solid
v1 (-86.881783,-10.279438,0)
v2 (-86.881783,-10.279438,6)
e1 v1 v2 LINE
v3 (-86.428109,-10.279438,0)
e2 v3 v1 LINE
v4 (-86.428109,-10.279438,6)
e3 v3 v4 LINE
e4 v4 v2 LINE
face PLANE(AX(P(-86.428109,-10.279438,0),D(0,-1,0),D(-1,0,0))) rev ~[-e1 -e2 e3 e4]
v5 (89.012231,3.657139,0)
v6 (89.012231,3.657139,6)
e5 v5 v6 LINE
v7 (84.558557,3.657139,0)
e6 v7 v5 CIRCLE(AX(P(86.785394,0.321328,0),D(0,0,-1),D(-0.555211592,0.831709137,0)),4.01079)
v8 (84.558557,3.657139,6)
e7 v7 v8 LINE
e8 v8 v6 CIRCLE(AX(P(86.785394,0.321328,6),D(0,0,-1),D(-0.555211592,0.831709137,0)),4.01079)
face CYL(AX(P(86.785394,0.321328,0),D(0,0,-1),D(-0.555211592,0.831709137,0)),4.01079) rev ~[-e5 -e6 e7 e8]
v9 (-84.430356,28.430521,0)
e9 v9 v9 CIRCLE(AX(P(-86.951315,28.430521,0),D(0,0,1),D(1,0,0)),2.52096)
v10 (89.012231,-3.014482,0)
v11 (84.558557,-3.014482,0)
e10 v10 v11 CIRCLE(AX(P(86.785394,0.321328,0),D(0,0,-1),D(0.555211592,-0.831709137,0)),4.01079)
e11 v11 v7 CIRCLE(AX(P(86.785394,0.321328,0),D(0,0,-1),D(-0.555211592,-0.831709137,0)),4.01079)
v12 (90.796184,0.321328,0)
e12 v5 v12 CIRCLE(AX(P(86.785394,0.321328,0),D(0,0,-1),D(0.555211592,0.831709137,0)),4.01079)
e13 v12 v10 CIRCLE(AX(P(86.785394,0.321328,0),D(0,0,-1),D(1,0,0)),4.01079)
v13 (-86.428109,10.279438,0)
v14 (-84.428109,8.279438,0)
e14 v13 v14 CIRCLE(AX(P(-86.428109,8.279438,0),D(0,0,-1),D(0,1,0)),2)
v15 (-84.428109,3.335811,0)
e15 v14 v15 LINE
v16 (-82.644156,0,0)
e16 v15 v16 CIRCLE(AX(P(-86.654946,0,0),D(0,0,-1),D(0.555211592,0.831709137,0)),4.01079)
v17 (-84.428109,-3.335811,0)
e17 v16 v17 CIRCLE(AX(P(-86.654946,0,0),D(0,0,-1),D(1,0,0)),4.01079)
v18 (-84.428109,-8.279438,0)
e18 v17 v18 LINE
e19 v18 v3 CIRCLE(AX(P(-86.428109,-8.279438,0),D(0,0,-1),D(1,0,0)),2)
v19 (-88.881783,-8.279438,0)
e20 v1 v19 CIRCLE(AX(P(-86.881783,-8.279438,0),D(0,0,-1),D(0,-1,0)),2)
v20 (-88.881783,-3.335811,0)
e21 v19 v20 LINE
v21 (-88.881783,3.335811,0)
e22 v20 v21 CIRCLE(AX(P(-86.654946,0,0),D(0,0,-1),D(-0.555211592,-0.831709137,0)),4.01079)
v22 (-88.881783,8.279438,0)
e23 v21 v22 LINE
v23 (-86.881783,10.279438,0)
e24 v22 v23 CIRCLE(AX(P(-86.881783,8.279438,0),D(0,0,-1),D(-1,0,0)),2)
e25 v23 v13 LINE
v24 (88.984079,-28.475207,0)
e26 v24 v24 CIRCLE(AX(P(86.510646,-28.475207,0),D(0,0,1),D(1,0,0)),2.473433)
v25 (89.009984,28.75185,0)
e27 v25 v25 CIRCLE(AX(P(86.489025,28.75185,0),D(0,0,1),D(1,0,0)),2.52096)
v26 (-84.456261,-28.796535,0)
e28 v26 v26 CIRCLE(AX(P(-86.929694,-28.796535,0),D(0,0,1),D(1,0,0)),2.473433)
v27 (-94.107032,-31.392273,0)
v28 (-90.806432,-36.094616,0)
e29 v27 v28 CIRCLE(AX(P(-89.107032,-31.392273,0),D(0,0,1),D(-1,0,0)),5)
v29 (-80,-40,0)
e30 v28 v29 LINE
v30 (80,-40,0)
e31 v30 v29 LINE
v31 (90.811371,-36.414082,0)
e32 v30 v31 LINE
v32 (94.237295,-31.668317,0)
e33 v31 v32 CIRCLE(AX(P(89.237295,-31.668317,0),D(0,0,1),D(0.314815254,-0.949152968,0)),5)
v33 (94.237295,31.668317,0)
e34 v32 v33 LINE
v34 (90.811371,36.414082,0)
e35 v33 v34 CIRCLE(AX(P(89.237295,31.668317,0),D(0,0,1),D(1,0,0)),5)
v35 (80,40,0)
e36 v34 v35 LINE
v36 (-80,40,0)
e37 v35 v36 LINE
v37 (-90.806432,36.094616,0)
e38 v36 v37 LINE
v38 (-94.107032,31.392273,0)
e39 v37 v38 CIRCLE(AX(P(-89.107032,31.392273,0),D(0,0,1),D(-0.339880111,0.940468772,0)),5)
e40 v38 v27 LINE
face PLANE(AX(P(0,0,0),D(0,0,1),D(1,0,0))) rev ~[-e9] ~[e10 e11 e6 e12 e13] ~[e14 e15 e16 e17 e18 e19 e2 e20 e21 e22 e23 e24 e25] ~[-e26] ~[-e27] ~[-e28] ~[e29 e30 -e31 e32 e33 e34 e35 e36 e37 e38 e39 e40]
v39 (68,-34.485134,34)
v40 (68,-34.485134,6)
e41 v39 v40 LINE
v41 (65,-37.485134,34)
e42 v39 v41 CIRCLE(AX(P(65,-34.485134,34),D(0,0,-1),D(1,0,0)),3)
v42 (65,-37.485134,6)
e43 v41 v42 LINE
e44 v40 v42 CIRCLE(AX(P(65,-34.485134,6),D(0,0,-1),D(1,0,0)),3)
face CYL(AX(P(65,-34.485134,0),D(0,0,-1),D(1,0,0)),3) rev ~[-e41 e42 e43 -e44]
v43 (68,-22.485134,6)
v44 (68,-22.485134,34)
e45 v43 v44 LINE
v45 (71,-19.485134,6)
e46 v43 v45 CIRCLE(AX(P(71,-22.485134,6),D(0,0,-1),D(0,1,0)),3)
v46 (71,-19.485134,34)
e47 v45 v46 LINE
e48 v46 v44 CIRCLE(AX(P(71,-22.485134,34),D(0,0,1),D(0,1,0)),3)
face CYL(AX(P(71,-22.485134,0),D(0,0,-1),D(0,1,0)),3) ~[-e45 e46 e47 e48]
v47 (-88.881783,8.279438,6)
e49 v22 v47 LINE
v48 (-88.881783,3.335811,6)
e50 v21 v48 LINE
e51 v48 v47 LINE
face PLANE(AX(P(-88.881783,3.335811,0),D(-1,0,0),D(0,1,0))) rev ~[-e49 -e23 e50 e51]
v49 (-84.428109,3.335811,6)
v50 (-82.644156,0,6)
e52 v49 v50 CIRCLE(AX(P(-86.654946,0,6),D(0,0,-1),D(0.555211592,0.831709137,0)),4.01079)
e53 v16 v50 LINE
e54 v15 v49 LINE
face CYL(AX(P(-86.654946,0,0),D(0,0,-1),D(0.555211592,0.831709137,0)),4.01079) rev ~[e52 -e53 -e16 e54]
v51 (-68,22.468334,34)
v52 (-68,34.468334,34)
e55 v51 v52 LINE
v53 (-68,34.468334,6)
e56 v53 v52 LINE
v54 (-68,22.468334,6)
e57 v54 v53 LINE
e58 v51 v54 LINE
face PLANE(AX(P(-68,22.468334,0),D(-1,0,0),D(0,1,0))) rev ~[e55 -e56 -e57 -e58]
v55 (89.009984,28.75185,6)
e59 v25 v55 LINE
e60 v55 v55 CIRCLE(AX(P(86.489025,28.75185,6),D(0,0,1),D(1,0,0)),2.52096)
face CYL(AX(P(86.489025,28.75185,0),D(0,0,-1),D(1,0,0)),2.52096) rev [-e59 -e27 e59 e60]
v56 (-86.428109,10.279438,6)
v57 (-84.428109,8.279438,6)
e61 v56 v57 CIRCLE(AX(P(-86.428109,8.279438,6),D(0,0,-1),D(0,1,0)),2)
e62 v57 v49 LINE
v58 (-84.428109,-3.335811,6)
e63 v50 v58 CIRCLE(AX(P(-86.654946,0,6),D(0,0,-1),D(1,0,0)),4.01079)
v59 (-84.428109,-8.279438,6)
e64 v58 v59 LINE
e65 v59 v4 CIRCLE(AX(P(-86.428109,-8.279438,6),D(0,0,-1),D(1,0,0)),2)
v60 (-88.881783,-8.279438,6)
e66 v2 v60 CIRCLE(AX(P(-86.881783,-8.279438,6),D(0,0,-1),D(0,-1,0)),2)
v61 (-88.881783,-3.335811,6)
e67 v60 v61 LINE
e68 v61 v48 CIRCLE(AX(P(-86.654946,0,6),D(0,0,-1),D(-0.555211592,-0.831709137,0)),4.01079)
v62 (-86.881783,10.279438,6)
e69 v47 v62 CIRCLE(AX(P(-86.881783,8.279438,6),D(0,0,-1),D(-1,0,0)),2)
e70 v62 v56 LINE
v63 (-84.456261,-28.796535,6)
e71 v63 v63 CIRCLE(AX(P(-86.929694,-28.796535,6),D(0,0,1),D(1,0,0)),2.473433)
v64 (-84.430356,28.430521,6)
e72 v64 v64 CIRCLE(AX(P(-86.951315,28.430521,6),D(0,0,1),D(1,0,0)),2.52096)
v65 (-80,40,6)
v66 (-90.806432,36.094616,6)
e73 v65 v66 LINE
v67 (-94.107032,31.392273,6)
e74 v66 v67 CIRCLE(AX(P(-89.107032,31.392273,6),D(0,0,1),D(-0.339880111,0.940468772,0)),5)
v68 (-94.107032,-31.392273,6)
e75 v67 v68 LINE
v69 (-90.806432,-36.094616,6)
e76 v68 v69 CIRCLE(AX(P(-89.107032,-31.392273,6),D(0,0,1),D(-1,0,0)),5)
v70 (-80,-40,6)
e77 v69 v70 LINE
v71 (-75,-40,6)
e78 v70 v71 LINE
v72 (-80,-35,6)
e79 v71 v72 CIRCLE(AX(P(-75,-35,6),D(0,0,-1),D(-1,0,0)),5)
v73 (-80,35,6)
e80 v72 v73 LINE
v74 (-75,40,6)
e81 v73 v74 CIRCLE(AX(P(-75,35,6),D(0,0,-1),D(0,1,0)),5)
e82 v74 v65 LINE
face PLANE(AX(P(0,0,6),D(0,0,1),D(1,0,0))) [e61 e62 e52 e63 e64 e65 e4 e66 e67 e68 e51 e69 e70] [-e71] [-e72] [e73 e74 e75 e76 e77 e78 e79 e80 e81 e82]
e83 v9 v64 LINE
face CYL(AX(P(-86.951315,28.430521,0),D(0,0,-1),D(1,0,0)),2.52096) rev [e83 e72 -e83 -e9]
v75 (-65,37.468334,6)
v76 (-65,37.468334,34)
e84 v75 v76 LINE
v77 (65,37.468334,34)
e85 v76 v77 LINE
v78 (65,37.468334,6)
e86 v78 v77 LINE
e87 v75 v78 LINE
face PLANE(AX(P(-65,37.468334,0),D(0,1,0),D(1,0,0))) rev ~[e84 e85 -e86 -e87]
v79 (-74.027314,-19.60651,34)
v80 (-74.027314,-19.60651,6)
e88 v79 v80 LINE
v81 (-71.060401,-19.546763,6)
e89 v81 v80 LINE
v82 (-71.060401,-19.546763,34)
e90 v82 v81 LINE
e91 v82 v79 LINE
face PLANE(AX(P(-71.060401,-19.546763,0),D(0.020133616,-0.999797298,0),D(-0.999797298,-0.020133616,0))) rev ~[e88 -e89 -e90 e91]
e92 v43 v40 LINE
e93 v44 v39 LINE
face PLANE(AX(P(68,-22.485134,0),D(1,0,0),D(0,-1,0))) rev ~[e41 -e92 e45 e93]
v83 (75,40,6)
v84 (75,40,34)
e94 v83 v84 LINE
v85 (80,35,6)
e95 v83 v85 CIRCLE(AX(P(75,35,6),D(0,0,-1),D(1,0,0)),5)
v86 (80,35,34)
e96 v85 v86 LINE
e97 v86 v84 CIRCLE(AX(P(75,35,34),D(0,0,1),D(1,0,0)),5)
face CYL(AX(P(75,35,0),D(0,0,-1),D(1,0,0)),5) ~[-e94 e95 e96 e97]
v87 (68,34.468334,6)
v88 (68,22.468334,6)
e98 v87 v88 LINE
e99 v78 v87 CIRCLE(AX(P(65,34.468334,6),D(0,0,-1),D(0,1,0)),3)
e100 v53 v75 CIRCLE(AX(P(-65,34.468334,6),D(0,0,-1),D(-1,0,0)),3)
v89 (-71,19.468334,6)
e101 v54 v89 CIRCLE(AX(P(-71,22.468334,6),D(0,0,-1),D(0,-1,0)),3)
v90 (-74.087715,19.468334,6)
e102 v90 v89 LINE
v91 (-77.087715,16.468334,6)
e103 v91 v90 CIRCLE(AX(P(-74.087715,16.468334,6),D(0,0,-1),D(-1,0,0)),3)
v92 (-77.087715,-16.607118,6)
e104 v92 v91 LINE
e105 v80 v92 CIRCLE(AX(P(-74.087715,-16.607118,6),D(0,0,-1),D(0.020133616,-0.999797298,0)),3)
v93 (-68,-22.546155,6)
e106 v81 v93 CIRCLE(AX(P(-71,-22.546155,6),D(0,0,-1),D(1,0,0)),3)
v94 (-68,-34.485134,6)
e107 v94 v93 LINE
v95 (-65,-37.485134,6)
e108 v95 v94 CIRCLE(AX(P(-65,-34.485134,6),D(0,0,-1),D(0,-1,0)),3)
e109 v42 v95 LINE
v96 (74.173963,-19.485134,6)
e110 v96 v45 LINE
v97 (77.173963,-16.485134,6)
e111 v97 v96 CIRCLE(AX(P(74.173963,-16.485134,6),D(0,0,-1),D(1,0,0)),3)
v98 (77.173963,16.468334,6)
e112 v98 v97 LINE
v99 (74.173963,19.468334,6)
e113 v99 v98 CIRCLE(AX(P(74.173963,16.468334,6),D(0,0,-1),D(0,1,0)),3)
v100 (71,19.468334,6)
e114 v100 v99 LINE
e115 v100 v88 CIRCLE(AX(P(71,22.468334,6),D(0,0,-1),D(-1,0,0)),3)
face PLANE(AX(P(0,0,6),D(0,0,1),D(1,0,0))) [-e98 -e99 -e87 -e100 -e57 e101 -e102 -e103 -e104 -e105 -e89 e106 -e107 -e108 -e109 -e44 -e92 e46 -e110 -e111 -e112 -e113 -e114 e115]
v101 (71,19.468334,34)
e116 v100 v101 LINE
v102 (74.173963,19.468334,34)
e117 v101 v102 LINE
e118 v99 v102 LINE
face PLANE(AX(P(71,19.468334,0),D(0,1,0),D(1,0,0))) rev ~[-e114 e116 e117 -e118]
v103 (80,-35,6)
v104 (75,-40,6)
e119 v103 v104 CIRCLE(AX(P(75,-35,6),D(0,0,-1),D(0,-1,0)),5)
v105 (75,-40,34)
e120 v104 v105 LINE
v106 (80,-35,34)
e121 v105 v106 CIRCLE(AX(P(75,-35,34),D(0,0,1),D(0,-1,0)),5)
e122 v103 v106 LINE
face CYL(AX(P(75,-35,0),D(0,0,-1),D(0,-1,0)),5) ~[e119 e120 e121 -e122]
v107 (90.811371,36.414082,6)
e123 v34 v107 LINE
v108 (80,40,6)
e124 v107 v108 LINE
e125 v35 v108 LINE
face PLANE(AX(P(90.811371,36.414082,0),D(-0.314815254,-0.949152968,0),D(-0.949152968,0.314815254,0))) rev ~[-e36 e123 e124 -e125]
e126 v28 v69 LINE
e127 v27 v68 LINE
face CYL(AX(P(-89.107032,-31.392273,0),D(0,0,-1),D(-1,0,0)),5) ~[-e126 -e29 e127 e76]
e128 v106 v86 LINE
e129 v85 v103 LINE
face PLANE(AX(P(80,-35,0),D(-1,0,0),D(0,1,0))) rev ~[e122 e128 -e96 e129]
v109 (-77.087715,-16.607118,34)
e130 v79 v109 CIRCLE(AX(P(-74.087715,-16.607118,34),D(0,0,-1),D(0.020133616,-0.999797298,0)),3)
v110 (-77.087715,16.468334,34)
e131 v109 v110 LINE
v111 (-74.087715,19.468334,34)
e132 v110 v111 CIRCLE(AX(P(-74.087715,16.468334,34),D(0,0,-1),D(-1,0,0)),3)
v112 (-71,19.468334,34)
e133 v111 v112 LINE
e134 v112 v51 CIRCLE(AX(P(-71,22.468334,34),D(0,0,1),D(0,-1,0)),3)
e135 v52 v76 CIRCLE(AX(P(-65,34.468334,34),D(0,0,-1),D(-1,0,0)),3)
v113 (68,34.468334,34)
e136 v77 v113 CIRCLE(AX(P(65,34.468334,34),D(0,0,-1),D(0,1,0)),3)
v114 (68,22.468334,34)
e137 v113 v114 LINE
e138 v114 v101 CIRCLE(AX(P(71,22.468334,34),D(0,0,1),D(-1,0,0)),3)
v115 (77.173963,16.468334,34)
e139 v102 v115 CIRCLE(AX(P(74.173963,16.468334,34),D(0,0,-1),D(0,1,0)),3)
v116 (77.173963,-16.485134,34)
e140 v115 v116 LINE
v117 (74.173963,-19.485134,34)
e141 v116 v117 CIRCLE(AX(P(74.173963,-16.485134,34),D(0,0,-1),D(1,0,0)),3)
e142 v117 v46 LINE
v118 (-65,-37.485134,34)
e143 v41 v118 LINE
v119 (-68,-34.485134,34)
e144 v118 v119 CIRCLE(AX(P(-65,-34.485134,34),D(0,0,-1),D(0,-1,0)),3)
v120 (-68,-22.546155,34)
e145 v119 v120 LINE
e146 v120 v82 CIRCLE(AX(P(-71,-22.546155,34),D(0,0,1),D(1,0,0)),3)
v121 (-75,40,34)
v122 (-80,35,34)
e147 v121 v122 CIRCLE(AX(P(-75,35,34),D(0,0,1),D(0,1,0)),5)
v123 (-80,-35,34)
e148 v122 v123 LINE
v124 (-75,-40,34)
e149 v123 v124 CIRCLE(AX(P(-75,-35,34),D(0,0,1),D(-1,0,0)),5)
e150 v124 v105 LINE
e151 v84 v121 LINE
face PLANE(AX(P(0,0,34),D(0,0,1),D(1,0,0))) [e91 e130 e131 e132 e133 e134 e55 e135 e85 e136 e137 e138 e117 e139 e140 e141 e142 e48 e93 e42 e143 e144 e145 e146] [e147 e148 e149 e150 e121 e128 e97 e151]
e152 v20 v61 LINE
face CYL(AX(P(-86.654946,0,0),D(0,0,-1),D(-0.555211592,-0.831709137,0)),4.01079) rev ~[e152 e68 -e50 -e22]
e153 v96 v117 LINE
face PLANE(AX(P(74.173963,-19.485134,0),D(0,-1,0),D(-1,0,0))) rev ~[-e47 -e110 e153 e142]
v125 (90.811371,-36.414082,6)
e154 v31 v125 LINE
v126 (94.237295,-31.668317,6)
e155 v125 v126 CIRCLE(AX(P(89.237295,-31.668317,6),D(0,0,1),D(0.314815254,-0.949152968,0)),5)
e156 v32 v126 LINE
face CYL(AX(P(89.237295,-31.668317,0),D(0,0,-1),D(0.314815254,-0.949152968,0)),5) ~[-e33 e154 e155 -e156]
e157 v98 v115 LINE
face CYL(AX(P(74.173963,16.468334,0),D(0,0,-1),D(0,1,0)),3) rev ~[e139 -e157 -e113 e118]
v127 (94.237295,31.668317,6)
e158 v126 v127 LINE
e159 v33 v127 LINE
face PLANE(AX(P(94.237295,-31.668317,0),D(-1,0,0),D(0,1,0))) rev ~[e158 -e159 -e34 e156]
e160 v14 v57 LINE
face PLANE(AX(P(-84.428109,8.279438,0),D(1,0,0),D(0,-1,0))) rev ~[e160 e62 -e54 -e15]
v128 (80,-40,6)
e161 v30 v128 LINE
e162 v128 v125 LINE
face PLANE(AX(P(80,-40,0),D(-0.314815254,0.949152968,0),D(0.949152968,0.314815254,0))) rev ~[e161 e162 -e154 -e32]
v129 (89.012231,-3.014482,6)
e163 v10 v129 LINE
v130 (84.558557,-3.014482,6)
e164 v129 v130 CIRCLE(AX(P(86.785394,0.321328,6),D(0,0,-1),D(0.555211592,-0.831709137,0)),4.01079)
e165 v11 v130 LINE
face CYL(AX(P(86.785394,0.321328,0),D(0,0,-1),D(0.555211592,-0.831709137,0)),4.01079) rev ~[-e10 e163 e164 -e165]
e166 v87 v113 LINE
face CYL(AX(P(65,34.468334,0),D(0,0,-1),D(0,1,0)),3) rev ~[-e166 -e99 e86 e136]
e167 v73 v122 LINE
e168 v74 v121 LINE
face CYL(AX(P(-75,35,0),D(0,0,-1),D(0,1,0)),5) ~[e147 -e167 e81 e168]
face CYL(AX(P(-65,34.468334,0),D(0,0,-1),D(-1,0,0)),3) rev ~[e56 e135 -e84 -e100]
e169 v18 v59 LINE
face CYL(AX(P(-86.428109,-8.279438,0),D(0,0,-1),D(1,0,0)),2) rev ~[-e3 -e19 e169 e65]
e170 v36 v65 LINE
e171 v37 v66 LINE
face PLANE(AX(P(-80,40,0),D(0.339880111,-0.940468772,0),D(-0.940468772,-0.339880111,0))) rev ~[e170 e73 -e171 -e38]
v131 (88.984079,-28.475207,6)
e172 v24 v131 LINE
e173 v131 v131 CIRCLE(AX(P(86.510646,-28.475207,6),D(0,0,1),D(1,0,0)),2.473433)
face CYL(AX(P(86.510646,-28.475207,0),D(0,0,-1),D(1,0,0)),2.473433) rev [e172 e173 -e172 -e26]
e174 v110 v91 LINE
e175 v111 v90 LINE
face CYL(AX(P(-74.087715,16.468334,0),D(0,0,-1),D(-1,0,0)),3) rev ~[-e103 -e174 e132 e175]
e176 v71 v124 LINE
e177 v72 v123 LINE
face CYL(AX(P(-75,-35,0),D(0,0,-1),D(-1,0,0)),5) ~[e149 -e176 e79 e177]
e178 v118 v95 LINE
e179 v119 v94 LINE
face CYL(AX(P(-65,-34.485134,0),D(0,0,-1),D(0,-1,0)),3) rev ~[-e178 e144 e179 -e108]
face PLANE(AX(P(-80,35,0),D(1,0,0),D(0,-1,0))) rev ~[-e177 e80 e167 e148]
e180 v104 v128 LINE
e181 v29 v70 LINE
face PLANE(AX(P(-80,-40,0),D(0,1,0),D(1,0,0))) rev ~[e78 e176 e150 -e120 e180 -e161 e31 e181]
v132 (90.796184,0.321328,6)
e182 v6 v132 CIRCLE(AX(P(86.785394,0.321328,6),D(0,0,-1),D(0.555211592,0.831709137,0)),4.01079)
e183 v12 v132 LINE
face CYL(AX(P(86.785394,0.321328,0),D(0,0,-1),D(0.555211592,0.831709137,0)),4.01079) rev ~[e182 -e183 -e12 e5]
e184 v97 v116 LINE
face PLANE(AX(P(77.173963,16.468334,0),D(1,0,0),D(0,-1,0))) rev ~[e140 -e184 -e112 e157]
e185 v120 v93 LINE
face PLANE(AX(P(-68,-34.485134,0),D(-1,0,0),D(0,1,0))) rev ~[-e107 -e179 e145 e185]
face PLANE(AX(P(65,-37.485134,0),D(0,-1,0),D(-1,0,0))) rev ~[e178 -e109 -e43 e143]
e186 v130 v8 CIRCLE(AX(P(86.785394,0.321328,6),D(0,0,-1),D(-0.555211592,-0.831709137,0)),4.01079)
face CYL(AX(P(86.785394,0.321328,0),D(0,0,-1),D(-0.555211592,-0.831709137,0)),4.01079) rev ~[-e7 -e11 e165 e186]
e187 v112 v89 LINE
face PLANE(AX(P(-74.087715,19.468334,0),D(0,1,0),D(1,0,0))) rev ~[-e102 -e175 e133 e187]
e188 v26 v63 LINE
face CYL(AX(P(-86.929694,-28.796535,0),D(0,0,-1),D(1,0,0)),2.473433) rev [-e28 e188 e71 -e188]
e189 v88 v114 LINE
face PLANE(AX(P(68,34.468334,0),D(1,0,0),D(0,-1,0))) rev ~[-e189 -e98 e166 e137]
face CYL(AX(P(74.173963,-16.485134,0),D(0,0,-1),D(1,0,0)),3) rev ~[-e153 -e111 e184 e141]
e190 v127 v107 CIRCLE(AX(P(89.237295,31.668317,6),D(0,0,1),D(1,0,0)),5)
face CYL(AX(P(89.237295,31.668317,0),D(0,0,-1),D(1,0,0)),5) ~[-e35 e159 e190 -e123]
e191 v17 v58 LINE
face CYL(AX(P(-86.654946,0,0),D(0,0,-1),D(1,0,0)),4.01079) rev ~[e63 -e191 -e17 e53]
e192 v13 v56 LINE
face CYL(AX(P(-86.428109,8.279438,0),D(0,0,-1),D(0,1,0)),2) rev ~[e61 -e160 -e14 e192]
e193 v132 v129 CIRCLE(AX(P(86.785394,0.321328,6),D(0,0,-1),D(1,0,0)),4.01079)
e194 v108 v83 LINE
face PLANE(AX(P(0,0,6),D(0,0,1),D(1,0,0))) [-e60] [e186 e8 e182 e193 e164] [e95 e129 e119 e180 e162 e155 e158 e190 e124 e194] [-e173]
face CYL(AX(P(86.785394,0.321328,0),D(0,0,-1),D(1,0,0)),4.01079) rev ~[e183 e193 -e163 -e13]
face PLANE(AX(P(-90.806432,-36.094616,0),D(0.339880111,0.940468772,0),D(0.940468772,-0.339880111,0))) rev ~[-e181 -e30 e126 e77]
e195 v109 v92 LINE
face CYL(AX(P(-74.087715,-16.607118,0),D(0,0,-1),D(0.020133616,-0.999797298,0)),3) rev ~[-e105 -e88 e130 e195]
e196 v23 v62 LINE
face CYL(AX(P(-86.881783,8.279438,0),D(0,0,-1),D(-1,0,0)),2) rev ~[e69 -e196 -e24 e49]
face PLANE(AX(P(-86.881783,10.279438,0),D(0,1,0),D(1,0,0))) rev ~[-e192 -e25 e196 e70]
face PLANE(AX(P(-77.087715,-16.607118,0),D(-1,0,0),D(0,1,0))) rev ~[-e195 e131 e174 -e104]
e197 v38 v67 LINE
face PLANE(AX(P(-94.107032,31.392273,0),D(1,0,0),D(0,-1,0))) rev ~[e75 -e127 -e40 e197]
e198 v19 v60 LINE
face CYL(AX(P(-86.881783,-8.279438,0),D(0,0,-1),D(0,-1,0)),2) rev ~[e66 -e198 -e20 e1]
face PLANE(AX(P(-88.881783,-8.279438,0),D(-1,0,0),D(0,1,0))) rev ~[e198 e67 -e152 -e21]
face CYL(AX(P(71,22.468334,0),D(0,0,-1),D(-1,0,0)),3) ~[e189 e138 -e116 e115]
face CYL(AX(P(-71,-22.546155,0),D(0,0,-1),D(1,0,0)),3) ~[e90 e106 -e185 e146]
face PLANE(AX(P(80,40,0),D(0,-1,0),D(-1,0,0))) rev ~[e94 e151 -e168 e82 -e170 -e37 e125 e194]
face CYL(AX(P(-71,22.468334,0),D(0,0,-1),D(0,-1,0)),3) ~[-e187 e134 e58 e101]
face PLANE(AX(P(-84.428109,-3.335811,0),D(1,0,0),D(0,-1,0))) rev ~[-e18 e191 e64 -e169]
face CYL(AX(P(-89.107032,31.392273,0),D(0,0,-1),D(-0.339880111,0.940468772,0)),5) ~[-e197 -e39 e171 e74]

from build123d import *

# Parameters (mm, degrees)
F0_R     = 2.4734326525
F0_R_2   = 2.5209595833
F1_DEPTH = 6
F2_DEPTH = 34
F3_DEPTH = 6


with BuildPart() as f1:
    # F0 (on Top) → F1 (new body)
    with BuildSketch(Plane.XY):
        with BuildLine():
            ThreePointArc((80, 35), (78.5355339059, 38.5355339059), (75, 40))
            Line((75, 40), (-75, 40))
            ThreePointArc((-75, 40), (-78.5355339059, 38.5355339059), (-80, 35))
            Line((-80, 35), (-80, -35))
            ThreePointArc((-80, -35), (-78.5355339059, -38.5355339059), (-75, -40))
            Line((-75, -40), (75, -40))
            ThreePointArc((75, -40), (78.5355339059, -38.5355339059), (80, -35))
            Line((80, -35), (80, 35))
        make_face()
        with BuildLine():
            ThreePointArc((-68, 34.4683335721), (-67.1213203436, 36.5896539157), (-65, 37.4683335721))
            Line((-65, 37.4683335721), (0, 37.4683335721))
            Line((0, 37.4683335721), (65, 37.4683335721))
            ThreePointArc((65, 37.4683335721), (67.1213203436, 36.5896539157), (68, 34.4683335721))
            Line((68, 34.4683335721), (68, 22.4683335721))
            ThreePointArc((68, 22.4683335721), (68.8786796564, 20.3470132286), (71, 19.4683335721))
            Line((71, 19.4683335721), (74.1739631891, 19.4683335721))
            ThreePointArc((74.1739631891, 19.4683335721), (76.2952835327, 18.5896539157), (77.1739631891, 16.4683335721))
            Line((77.1739631891, 16.4683335721), (77.1739631891, -16.4851338565))
            ThreePointArc((77.1739631891, -16.4851338565), (76.2952835327, -18.6064542001), (74.1739631891, -19.4851338565))
            Line((74.1739631891, -19.4851338565), (71, -19.4851338565))
            ThreePointArc((71, -19.4851338565), (68.8786796564, -20.363813513), (68, -22.4851338565))
            Line((68, -22.4851338565), (68, -34.4851338565))
            ThreePointArc((68, -34.4851338565), (67.1213203436, -36.6064542001), (65, -37.4851338565))
            Line((65, -37.4851338565), (0, -37.4851338565))
            Line((0, -37.4851338565), (-65, -37.4851338565))
            ThreePointArc((-65, -37.4851338565), (-67.1213203436, -36.6064542001), (-68, -34.4851338565))
            Line((-68, -34.4851338565), (-68, -22.5461551776))
            ThreePointArc((-68, -22.5461551776), (-68.9001431644, -20.4035863292), (-71.0604008466, -19.5467632829))
            Line((-71.0604008466, -19.5467632829), (-74.0273144216, -19.6065100909))
            ThreePointArc((-74.0273144216, -19.6065100909), (-76.1875721038, -18.7496870446), (-77.0877152681, -16.6071181963))
            Line((-77.0877152681, -16.6071181963), (-77.0877152681, 16.4683335721))
            ThreePointArc((-77.0877152681, 16.4683335721), (-76.2090356117, 18.5896539157), (-74.0877152681, 19.4683335721))
            Line((-74.0877152681, 19.4683335721), (-71, 19.4683335721))
            ThreePointArc((-71, 19.4683335721), (-68.8786796564, 20.3470132286), (-68, 22.4683335721))
            Line((-68, 22.4683335721), (-68, 34.4683335721))
        make_face(mode=Mode.SUBTRACT)
        with BuildLine():
            Line((80, 40), (75, 40))
            ThreePointArc((75, 40), (78.5355339059, 38.5355339059), (80, 35))
            Line((80, 35), (80, -35))
            ThreePointArc((80, -35), (78.5355339059, -38.5355339059), (75, -40))
            Line((75, -40), (80, -40))
            Line((80, -40), (90.8113707836, -36.4140822894))
            ThreePointArc((90.8113707836, -36.4140822894), (93.2913283913, -34.5948870007), (94.2372945148, -31.6683174512))
            Line((94.2372945148, -31.6683174512), (94.2372945148, 31.6683174512))
            ThreePointArc((94.2372945148, 31.6683174512), (93.2913283913, 34.5948870007), (90.8113707836, 36.4140822894))
            Line((90.8113707836, 36.4140822894), (80, 40))
        make_face()
        with Locations((86.5106463432, -28.475206584)):
            Circle(F0_R, mode=Mode.SUBTRACT)
        with BuildLine():
            ThreePointArc((90.7961837325, 0.3213284013), (90.3221869675, -1.5701075157), (89.0122309327, -3.0144821029))
            ThreePointArc((89.0122309327, -3.0144821029), (86.7853939533, -3.6894613779), (84.5585569739, -3.0144821029))
            ThreePointArc((84.5585569739, -3.0144821029), (82.7746041741, 0.3213284013), (84.5585569739, 3.6571389056))
            ThreePointArc((84.5585569739, 3.6571389056), (86.7853939533, 4.3321181805), (89.0122309327, 3.6571389056))
            ThreePointArc((89.0122309327, 3.6571389056), (90.3221869675, 2.2127643183), (90.7961837325, 0.3213284013))
        make_face(mode=Mode.SUBTRACT)
        with Locations((86.4890247583, 28.7518498895)):
            Circle(F0_R_2, mode=Mode.SUBTRACT)
        with BuildLine():
            ThreePointArc((-80, 35), (-78.5355339059, 38.5355339059), (-75, 40))
            Line((-75, 40), (-80, 40))
            Line((-80, 40), (-90.8064321274, 36.0946163646))
            ThreePointArc((-90.8064321274, 36.0946163646), (-93.1995248699, 34.2648146936), (-94.1070315729, 31.392272507))
            Line((-94.1070315729, 31.392272507), (-94.1070315729, -31.392272507))
            ThreePointArc((-94.1070315729, -31.392272507), (-93.1995248699, -34.2648146936), (-90.8064321274, -36.0946163646))
            Line((-90.8064321274, -36.0946163646), (-80, -40))
            Line((-80, -40), (-75, -40))
            ThreePointArc((-75, -40), (-78.5355339059, -38.5355339059), (-80, -35))
            Line((-80, -35), (-80, 35))
        make_face()
        with Locations((-86.9296938181, -28.7965349853)):
            Circle(F0_R, mode=Mode.SUBTRACT)
        with BuildLine():
            ThreePointArc((-84.4281092286, -8.2794375271), (-85.0138956662, -9.6936510894), (-86.4281092286, -10.2794375271))
            Line((-86.4281092286, -10.2794375271), (-86.8817831874, -10.2794375271))
            ThreePointArc((-86.8817831874, -10.2794375271), (-88.2959967498, -9.6936510894), (-88.8817831874, -8.2794375271))
            Line((-88.8817831874, -8.2794375271), (-88.8817831874, -3.3358105042))
            ThreePointArc((-88.8817831874, -3.3358105042), (-90.6657359872, 0), (-88.8817831874, 3.3358105042))
            Line((-88.8817831874, 3.3358105042), (-88.8817831874, 8.2794375271))
            ThreePointArc((-88.8817831874, 8.2794375271), (-88.2959967498, 9.6936510894), (-86.8817831874, 10.2794375271))
            Line((-86.8817831874, 10.2794375271), (-86.4281092286, 10.2794375271))
            ThreePointArc((-86.4281092286, 10.2794375271), (-85.0138956662, 9.6936510894), (-84.4281092286, 8.2794375271))
            Line((-84.4281092286, 8.2794375271), (-84.4281092286, 3.3358105042))
            ThreePointArc((-84.4281092286, 3.3358105042), (-83.1181531938, 1.891435917), (-82.6441564288, 0))
            ThreePointArc((-82.6441564288, 0), (-83.1181531938, -1.891435917), (-84.4281092286, -3.3358105042))
            Line((-84.4281092286, -3.3358105042), (-84.4281092286, -8.2794375271))
        make_face(mode=Mode.SUBTRACT)
        with Locations((-86.951315403, 28.4305214882)):
            Circle(F0_R_2, mode=Mode.SUBTRACT)
    extrude(amount=F1_DEPTH)

    # F0 (on Top) → F2 (join)
    with BuildSketch(Plane.XY):
        with BuildLine():
            ThreePointArc((80, 35), (78.5355339059, 38.5355339059), (75, 40))
            Line((75, 40), (-75, 40))
            ThreePointArc((-75, 40), (-78.5355339059, 38.5355339059), (-80, 35))
            Line((-80, 35), (-80, -35))
            ThreePointArc((-80, -35), (-78.5355339059, -38.5355339059), (-75, -40))
            Line((-75, -40), (75, -40))
            ThreePointArc((75, -40), (78.5355339059, -38.5355339059), (80, -35))
            Line((80, -35), (80, 35))
        make_face()
        with BuildLine():
            ThreePointArc((-68, 34.4683335721), (-67.1213203436, 36.5896539157), (-65, 37.4683335721))
            Line((-65, 37.4683335721), (0, 37.4683335721))
            Line((0, 37.4683335721), (65, 37.4683335721))
            ThreePointArc((65, 37.4683335721), (67.1213203436, 36.5896539157), (68, 34.4683335721))
            Line((68, 34.4683335721), (68, 22.4683335721))
            ThreePointArc((68, 22.4683335721), (68.8786796564, 20.3470132286), (71, 19.4683335721))
            Line((71, 19.4683335721), (74.1739631891, 19.4683335721))
            ThreePointArc((74.1739631891, 19.4683335721), (76.2952835327, 18.5896539157), (77.1739631891, 16.4683335721))
            Line((77.1739631891, 16.4683335721), (77.1739631891, -16.4851338565))
            ThreePointArc((77.1739631891, -16.4851338565), (76.2952835327, -18.6064542001), (74.1739631891, -19.4851338565))
            Line((74.1739631891, -19.4851338565), (71, -19.4851338565))
            ThreePointArc((71, -19.4851338565), (68.8786796564, -20.363813513), (68, -22.4851338565))
            Line((68, -22.4851338565), (68, -34.4851338565))
            ThreePointArc((68, -34.4851338565), (67.1213203436, -36.6064542001), (65, -37.4851338565))
            Line((65, -37.4851338565), (0, -37.4851338565))
            Line((0, -37.4851338565), (-65, -37.4851338565))
            ThreePointArc((-65, -37.4851338565), (-67.1213203436, -36.6064542001), (-68, -34.4851338565))
            Line((-68, -34.4851338565), (-68, -22.5461551776))
            ThreePointArc((-68, -22.5461551776), (-68.9001431644, -20.4035863292), (-71.0604008466, -19.5467632829))
            Line((-71.0604008466, -19.5467632829), (-74.0273144216, -19.6065100909))
            ThreePointArc((-74.0273144216, -19.6065100909), (-76.1875721038, -18.7496870446), (-77.0877152681, -16.6071181963))
            Line((-77.0877152681, -16.6071181963), (-77.0877152681, 16.4683335721))
            ThreePointArc((-77.0877152681, 16.4683335721), (-76.2090356117, 18.5896539157), (-74.0877152681, 19.4683335721))
            Line((-74.0877152681, 19.4683335721), (-71, 19.4683335721))
            ThreePointArc((-71, 19.4683335721), (-68.8786796564, 20.3470132286), (-68, 22.4683335721))
            Line((-68, 22.4683335721), (-68, 34.4683335721))
        make_face(mode=Mode.SUBTRACT)
    extrude(amount=F2_DEPTH)

    # F0 (on Top) → F3 (join)
    with BuildSketch(Plane.XY):
        with BuildLine():
            ThreePointArc((80, 35), (78.5355339059, 38.5355339059), (75, 40))
            Line((75, 40), (-75, 40))
            ThreePointArc((-75, 40), (-78.5355339059, 38.5355339059), (-80, 35))
            Line((-80, 35), (-80, -35))
            ThreePointArc((-80, -35), (-78.5355339059, -38.5355339059), (-75, -40))
            Line((-75, -40), (75, -40))
            ThreePointArc((75, -40), (78.5355339059, -38.5355339059), (80, -35))
            Line((80, -35), (80, 35))
        make_face()
        with BuildLine():
            ThreePointArc((-68, 34.4683335721), (-67.1213203436, 36.5896539157), (-65, 37.4683335721))
            Line((-65, 37.4683335721), (0, 37.4683335721))
            Line((0, 37.4683335721), (65, 37.4683335721))
            ThreePointArc((65, 37.4683335721), (67.1213203436, 36.5896539157), (68, 34.4683335721))
            Line((68, 34.4683335721), (68, 22.4683335721))
            ThreePointArc((68, 22.4683335721), (68.8786796564, 20.3470132286), (71, 19.4683335721))
            Line((71, 19.4683335721), (74.1739631891, 19.4683335721))
            ThreePointArc((74.1739631891, 19.4683335721), (76.2952835327, 18.5896539157), (77.1739631891, 16.4683335721))
            Line((77.1739631891, 16.4683335721), (77.1739631891, -16.4851338565))
            ThreePointArc((77.1739631891, -16.4851338565), (76.2952835327, -18.6064542001), (74.1739631891, -19.4851338565))
            Line((74.1739631891, -19.4851338565), (71, -19.4851338565))
            ThreePointArc((71, -19.4851338565), (68.8786796564, -20.363813513), (68, -22.4851338565))
            Line((68, -22.4851338565), (68, -34.4851338565))
            ThreePointArc((68, -34.4851338565), (67.1213203436, -36.6064542001), (65, -37.4851338565))
            Line((65, -37.4851338565), (0, -37.4851338565))
            Line((0, -37.4851338565), (-65, -37.4851338565))
            ThreePointArc((-65, -37.4851338565), (-67.1213203436, -36.6064542001), (-68, -34.4851338565))
            Line((-68, -34.4851338565), (-68, -22.5461551776))
            ThreePointArc((-68, -22.5461551776), (-68.9001431644, -20.4035863292), (-71.0604008466, -19.5467632829))
            Line((-71.0604008466, -19.5467632829), (-74.0273144216, -19.6065100909))
            ThreePointArc((-74.0273144216, -19.6065100909), (-76.1875721038, -18.7496870446), (-77.0877152681, -16.6071181963))
            Line((-77.0877152681, -16.6071181963), (-77.0877152681, 16.4683335721))
            ThreePointArc((-77.0877152681, 16.4683335721), (-76.2090356117, 18.5896539157), (-74.0877152681, 19.4683335721))
            Line((-74.0877152681, 19.4683335721), (-71, 19.4683335721))
            ThreePointArc((-71, 19.4683335721), (-68.8786796564, 20.3470132286), (-68, 22.4683335721))
            Line((-68, 22.4683335721), (-68, 34.4683335721))
        make_face(mode=Mode.SUBTRACT)
        with BuildLine():
            Line((0, 37.4683335721), (-65, 37.4683335721))
            ThreePointArc((-65, 37.4683335721), (-67.1213203436, 36.5896539157), (-68, 34.4683335721))
            Line((-68, 34.4683335721), (-68, 22.4683335721))
            ThreePointArc((-68, 22.4683335721), (-68.8786796564, 20.3470132286), (-71, 19.4683335721))
            Line((-71, 19.4683335721), (-74.0877152681, 19.4683335721))
            ThreePointArc((-74.0877152681, 19.4683335721), (-76.2090356117, 18.5896539157), (-77.0877152681, 16.4683335721))
            Line((-77.0877152681, 16.4683335721), (-77.0877152681, -16.6071181963))
            ThreePointArc((-77.0877152681, -16.6071181963), (-76.1875721038, -18.7496870446), (-74.0273144216, -19.6065100909))
            Line((-74.0273144216, -19.6065100909), (-71.0604008466, -19.5467632829))
            ThreePointArc((-71.0604008466, -19.5467632829), (-68.9001431644, -20.4035863292), (-68, -22.5461551776))
            Line((-68, -22.5461551776), (-68, -34.4851338565))
            ThreePointArc((-68, -34.4851338565), (-67.1213203436, -36.6064542001), (-65, -37.4851338565))
            Line((-65, -37.4851338565), (0, -37.4851338565))
            Line((0, -37.4851338565), (65, -37.4851338565))
            ThreePointArc((65, -37.4851338565), (67.1213203436, -36.6064542001), (68, -34.4851338565))
            Line((68, -34.4851338565), (68, -22.4851338565))
            ThreePointArc((68, -22.4851338565), (68.8786796564, -20.363813513), (71, -19.4851338565))
            Line((71, -19.4851338565), (74.1739631891, -19.4851338565))
            ThreePointArc((74.1739631891, -19.4851338565), (76.2952835327, -18.6064542001), (77.1739631891, -16.4851338565))
            Line((77.1739631891, -16.4851338565), (77.1739631891, 16.4683335721))
            ThreePointArc((77.1739631891, 16.4683335721), (76.2952835327, 18.5896539157), (74.1739631891, 19.4683335721))
            Line((74.1739631891, 19.4683335721), (71, 19.4683335721))
            ThreePointArc((71, 19.4683335721), (68.8786796564, 20.3470132286), (68, 22.4683335721))
            Line((68, 22.4683335721), (68, 34.4683335721))
            ThreePointArc((68, 34.4683335721), (67.1213203436, 36.5896539157), (65, 37.4683335721))
            Line((65, 37.4683335721), (0, 37.4683335721))
        make_face()
        with BuildLine():
            Line((80, 40), (75, 40))
            ThreePointArc((75, 40), (78.5355339059, 38.5355339059), (80, 35))
            Line((80, 35), (80, -35))
            ThreePointArc((80, -35), (78.5355339059, -38.5355339059), (75, -40))
            Line((75, -40), (80, -40))
            Line((80, -40), (90.8113707836, -36.4140822894))
            ThreePointArc((90.8113707836, -36.4140822894), (93.2913283913, -34.5948870007), (94.2372945148, -31.6683174512))
            Line((94.2372945148, -31.6683174512), (94.2372945148, 31.6683174512))
            ThreePointArc((94.2372945148, 31.6683174512), (93.2913283913, 34.5948870007), (90.8113707836, 36.4140822894))
            Line((90.8113707836, 36.4140822894), (80, 40))
        make_face()
        with Locations((86.5106463432, -28.475206584)):
            Circle(F0_R, mode=Mode.SUBTRACT)
        with BuildLine():
            ThreePointArc((90.7961837325, 0.3213284013), (90.3221869675, -1.5701075157), (89.0122309327, -3.0144821029))
            ThreePointArc((89.0122309327, -3.0144821029), (86.7853939533, -3.6894613779), (84.5585569739, -3.0144821029))
            ThreePointArc((84.5585569739, -3.0144821029), (82.7746041741, 0.3213284013), (84.5585569739, 3.6571389056))
            ThreePointArc((84.5585569739, 3.6571389056), (86.7853939533, 4.3321181805), (89.0122309327, 3.6571389056))
            ThreePointArc((89.0122309327, 3.6571389056), (90.3221869675, 2.2127643183), (90.7961837325, 0.3213284013))
        make_face(mode=Mode.SUBTRACT)
        with Locations((86.4890247583, 28.7518498895)):
            Circle(F0_R_2, mode=Mode.SUBTRACT)
        with BuildLine():
            ThreePointArc((-80, 35), (-78.5355339059, 38.5355339059), (-75, 40))
            Line((-75, 40), (-80, 40))
            Line((-80, 40), (-90.8064321274, 36.0946163646))
            ThreePointArc((-90.8064321274, 36.0946163646), (-93.1995248699, 34.2648146936), (-94.1070315729, 31.392272507))
            Line((-94.1070315729, 31.392272507), (-94.1070315729, -31.392272507))
            ThreePointArc((-94.1070315729, -31.392272507), (-93.1995248699, -34.2648146936), (-90.8064321274, -36.0946163646))
            Line((-90.8064321274, -36.0946163646), (-80, -40))
            Line((-80, -40), (-75, -40))
            ThreePointArc((-75, -40), (-78.5355339059, -38.5355339059), (-80, -35))
            Line((-80, -35), (-80, 35))
        make_face()
        with Locations((-86.9296938181, -28.7965349853)):
            Circle(F0_R, mode=Mode.SUBTRACT)
        with BuildLine():
            ThreePointArc((-84.4281092286, -8.2794375271), (-85.0138956662, -9.6936510894), (-86.4281092286, -10.2794375271))
            Line((-86.4281092286, -10.2794375271), (-86.8817831874, -10.2794375271))
            ThreePointArc((-86.8817831874, -10.2794375271), (-88.2959967498, -9.6936510894), (-88.8817831874, -8.2794375271))
            Line((-88.8817831874, -8.2794375271), (-88.8817831874, -3.3358105042))
            ThreePointArc((-88.8817831874, -3.3358105042), (-90.6657359872, 0), (-88.8817831874, 3.3358105042))
            Line((-88.8817831874, 3.3358105042), (-88.8817831874, 8.2794375271))
            ThreePointArc((-88.8817831874, 8.2794375271), (-88.2959967498, 9.6936510894), (-86.8817831874, 10.2794375271))
            Line((-86.8817831874, 10.2794375271), (-86.4281092286, 10.2794375271))
            ThreePointArc((-86.4281092286, 10.2794375271), (-85.0138956662, 9.6936510894), (-84.4281092286, 8.2794375271))
            Line((-84.4281092286, 8.2794375271), (-84.4281092286, 3.3358105042))
            ThreePointArc((-84.4281092286, 3.3358105042), (-83.1181531938, 1.891435917), (-82.6441564288, 0))
            ThreePointArc((-82.6441564288, 0), (-83.1181531938, -1.891435917), (-84.4281092286, -3.3358105042))
            Line((-84.4281092286, -3.3358105042), (-84.4281092286, -8.2794375271))
        make_face(mode=Mode.SUBTRACT)
        with Locations((-86.951315403, 28.4305214882)):
            Circle(F0_R_2, mode=Mode.SUBTRACT)
    extrude(amount=F3_DEPTH)


solid = f1.part
